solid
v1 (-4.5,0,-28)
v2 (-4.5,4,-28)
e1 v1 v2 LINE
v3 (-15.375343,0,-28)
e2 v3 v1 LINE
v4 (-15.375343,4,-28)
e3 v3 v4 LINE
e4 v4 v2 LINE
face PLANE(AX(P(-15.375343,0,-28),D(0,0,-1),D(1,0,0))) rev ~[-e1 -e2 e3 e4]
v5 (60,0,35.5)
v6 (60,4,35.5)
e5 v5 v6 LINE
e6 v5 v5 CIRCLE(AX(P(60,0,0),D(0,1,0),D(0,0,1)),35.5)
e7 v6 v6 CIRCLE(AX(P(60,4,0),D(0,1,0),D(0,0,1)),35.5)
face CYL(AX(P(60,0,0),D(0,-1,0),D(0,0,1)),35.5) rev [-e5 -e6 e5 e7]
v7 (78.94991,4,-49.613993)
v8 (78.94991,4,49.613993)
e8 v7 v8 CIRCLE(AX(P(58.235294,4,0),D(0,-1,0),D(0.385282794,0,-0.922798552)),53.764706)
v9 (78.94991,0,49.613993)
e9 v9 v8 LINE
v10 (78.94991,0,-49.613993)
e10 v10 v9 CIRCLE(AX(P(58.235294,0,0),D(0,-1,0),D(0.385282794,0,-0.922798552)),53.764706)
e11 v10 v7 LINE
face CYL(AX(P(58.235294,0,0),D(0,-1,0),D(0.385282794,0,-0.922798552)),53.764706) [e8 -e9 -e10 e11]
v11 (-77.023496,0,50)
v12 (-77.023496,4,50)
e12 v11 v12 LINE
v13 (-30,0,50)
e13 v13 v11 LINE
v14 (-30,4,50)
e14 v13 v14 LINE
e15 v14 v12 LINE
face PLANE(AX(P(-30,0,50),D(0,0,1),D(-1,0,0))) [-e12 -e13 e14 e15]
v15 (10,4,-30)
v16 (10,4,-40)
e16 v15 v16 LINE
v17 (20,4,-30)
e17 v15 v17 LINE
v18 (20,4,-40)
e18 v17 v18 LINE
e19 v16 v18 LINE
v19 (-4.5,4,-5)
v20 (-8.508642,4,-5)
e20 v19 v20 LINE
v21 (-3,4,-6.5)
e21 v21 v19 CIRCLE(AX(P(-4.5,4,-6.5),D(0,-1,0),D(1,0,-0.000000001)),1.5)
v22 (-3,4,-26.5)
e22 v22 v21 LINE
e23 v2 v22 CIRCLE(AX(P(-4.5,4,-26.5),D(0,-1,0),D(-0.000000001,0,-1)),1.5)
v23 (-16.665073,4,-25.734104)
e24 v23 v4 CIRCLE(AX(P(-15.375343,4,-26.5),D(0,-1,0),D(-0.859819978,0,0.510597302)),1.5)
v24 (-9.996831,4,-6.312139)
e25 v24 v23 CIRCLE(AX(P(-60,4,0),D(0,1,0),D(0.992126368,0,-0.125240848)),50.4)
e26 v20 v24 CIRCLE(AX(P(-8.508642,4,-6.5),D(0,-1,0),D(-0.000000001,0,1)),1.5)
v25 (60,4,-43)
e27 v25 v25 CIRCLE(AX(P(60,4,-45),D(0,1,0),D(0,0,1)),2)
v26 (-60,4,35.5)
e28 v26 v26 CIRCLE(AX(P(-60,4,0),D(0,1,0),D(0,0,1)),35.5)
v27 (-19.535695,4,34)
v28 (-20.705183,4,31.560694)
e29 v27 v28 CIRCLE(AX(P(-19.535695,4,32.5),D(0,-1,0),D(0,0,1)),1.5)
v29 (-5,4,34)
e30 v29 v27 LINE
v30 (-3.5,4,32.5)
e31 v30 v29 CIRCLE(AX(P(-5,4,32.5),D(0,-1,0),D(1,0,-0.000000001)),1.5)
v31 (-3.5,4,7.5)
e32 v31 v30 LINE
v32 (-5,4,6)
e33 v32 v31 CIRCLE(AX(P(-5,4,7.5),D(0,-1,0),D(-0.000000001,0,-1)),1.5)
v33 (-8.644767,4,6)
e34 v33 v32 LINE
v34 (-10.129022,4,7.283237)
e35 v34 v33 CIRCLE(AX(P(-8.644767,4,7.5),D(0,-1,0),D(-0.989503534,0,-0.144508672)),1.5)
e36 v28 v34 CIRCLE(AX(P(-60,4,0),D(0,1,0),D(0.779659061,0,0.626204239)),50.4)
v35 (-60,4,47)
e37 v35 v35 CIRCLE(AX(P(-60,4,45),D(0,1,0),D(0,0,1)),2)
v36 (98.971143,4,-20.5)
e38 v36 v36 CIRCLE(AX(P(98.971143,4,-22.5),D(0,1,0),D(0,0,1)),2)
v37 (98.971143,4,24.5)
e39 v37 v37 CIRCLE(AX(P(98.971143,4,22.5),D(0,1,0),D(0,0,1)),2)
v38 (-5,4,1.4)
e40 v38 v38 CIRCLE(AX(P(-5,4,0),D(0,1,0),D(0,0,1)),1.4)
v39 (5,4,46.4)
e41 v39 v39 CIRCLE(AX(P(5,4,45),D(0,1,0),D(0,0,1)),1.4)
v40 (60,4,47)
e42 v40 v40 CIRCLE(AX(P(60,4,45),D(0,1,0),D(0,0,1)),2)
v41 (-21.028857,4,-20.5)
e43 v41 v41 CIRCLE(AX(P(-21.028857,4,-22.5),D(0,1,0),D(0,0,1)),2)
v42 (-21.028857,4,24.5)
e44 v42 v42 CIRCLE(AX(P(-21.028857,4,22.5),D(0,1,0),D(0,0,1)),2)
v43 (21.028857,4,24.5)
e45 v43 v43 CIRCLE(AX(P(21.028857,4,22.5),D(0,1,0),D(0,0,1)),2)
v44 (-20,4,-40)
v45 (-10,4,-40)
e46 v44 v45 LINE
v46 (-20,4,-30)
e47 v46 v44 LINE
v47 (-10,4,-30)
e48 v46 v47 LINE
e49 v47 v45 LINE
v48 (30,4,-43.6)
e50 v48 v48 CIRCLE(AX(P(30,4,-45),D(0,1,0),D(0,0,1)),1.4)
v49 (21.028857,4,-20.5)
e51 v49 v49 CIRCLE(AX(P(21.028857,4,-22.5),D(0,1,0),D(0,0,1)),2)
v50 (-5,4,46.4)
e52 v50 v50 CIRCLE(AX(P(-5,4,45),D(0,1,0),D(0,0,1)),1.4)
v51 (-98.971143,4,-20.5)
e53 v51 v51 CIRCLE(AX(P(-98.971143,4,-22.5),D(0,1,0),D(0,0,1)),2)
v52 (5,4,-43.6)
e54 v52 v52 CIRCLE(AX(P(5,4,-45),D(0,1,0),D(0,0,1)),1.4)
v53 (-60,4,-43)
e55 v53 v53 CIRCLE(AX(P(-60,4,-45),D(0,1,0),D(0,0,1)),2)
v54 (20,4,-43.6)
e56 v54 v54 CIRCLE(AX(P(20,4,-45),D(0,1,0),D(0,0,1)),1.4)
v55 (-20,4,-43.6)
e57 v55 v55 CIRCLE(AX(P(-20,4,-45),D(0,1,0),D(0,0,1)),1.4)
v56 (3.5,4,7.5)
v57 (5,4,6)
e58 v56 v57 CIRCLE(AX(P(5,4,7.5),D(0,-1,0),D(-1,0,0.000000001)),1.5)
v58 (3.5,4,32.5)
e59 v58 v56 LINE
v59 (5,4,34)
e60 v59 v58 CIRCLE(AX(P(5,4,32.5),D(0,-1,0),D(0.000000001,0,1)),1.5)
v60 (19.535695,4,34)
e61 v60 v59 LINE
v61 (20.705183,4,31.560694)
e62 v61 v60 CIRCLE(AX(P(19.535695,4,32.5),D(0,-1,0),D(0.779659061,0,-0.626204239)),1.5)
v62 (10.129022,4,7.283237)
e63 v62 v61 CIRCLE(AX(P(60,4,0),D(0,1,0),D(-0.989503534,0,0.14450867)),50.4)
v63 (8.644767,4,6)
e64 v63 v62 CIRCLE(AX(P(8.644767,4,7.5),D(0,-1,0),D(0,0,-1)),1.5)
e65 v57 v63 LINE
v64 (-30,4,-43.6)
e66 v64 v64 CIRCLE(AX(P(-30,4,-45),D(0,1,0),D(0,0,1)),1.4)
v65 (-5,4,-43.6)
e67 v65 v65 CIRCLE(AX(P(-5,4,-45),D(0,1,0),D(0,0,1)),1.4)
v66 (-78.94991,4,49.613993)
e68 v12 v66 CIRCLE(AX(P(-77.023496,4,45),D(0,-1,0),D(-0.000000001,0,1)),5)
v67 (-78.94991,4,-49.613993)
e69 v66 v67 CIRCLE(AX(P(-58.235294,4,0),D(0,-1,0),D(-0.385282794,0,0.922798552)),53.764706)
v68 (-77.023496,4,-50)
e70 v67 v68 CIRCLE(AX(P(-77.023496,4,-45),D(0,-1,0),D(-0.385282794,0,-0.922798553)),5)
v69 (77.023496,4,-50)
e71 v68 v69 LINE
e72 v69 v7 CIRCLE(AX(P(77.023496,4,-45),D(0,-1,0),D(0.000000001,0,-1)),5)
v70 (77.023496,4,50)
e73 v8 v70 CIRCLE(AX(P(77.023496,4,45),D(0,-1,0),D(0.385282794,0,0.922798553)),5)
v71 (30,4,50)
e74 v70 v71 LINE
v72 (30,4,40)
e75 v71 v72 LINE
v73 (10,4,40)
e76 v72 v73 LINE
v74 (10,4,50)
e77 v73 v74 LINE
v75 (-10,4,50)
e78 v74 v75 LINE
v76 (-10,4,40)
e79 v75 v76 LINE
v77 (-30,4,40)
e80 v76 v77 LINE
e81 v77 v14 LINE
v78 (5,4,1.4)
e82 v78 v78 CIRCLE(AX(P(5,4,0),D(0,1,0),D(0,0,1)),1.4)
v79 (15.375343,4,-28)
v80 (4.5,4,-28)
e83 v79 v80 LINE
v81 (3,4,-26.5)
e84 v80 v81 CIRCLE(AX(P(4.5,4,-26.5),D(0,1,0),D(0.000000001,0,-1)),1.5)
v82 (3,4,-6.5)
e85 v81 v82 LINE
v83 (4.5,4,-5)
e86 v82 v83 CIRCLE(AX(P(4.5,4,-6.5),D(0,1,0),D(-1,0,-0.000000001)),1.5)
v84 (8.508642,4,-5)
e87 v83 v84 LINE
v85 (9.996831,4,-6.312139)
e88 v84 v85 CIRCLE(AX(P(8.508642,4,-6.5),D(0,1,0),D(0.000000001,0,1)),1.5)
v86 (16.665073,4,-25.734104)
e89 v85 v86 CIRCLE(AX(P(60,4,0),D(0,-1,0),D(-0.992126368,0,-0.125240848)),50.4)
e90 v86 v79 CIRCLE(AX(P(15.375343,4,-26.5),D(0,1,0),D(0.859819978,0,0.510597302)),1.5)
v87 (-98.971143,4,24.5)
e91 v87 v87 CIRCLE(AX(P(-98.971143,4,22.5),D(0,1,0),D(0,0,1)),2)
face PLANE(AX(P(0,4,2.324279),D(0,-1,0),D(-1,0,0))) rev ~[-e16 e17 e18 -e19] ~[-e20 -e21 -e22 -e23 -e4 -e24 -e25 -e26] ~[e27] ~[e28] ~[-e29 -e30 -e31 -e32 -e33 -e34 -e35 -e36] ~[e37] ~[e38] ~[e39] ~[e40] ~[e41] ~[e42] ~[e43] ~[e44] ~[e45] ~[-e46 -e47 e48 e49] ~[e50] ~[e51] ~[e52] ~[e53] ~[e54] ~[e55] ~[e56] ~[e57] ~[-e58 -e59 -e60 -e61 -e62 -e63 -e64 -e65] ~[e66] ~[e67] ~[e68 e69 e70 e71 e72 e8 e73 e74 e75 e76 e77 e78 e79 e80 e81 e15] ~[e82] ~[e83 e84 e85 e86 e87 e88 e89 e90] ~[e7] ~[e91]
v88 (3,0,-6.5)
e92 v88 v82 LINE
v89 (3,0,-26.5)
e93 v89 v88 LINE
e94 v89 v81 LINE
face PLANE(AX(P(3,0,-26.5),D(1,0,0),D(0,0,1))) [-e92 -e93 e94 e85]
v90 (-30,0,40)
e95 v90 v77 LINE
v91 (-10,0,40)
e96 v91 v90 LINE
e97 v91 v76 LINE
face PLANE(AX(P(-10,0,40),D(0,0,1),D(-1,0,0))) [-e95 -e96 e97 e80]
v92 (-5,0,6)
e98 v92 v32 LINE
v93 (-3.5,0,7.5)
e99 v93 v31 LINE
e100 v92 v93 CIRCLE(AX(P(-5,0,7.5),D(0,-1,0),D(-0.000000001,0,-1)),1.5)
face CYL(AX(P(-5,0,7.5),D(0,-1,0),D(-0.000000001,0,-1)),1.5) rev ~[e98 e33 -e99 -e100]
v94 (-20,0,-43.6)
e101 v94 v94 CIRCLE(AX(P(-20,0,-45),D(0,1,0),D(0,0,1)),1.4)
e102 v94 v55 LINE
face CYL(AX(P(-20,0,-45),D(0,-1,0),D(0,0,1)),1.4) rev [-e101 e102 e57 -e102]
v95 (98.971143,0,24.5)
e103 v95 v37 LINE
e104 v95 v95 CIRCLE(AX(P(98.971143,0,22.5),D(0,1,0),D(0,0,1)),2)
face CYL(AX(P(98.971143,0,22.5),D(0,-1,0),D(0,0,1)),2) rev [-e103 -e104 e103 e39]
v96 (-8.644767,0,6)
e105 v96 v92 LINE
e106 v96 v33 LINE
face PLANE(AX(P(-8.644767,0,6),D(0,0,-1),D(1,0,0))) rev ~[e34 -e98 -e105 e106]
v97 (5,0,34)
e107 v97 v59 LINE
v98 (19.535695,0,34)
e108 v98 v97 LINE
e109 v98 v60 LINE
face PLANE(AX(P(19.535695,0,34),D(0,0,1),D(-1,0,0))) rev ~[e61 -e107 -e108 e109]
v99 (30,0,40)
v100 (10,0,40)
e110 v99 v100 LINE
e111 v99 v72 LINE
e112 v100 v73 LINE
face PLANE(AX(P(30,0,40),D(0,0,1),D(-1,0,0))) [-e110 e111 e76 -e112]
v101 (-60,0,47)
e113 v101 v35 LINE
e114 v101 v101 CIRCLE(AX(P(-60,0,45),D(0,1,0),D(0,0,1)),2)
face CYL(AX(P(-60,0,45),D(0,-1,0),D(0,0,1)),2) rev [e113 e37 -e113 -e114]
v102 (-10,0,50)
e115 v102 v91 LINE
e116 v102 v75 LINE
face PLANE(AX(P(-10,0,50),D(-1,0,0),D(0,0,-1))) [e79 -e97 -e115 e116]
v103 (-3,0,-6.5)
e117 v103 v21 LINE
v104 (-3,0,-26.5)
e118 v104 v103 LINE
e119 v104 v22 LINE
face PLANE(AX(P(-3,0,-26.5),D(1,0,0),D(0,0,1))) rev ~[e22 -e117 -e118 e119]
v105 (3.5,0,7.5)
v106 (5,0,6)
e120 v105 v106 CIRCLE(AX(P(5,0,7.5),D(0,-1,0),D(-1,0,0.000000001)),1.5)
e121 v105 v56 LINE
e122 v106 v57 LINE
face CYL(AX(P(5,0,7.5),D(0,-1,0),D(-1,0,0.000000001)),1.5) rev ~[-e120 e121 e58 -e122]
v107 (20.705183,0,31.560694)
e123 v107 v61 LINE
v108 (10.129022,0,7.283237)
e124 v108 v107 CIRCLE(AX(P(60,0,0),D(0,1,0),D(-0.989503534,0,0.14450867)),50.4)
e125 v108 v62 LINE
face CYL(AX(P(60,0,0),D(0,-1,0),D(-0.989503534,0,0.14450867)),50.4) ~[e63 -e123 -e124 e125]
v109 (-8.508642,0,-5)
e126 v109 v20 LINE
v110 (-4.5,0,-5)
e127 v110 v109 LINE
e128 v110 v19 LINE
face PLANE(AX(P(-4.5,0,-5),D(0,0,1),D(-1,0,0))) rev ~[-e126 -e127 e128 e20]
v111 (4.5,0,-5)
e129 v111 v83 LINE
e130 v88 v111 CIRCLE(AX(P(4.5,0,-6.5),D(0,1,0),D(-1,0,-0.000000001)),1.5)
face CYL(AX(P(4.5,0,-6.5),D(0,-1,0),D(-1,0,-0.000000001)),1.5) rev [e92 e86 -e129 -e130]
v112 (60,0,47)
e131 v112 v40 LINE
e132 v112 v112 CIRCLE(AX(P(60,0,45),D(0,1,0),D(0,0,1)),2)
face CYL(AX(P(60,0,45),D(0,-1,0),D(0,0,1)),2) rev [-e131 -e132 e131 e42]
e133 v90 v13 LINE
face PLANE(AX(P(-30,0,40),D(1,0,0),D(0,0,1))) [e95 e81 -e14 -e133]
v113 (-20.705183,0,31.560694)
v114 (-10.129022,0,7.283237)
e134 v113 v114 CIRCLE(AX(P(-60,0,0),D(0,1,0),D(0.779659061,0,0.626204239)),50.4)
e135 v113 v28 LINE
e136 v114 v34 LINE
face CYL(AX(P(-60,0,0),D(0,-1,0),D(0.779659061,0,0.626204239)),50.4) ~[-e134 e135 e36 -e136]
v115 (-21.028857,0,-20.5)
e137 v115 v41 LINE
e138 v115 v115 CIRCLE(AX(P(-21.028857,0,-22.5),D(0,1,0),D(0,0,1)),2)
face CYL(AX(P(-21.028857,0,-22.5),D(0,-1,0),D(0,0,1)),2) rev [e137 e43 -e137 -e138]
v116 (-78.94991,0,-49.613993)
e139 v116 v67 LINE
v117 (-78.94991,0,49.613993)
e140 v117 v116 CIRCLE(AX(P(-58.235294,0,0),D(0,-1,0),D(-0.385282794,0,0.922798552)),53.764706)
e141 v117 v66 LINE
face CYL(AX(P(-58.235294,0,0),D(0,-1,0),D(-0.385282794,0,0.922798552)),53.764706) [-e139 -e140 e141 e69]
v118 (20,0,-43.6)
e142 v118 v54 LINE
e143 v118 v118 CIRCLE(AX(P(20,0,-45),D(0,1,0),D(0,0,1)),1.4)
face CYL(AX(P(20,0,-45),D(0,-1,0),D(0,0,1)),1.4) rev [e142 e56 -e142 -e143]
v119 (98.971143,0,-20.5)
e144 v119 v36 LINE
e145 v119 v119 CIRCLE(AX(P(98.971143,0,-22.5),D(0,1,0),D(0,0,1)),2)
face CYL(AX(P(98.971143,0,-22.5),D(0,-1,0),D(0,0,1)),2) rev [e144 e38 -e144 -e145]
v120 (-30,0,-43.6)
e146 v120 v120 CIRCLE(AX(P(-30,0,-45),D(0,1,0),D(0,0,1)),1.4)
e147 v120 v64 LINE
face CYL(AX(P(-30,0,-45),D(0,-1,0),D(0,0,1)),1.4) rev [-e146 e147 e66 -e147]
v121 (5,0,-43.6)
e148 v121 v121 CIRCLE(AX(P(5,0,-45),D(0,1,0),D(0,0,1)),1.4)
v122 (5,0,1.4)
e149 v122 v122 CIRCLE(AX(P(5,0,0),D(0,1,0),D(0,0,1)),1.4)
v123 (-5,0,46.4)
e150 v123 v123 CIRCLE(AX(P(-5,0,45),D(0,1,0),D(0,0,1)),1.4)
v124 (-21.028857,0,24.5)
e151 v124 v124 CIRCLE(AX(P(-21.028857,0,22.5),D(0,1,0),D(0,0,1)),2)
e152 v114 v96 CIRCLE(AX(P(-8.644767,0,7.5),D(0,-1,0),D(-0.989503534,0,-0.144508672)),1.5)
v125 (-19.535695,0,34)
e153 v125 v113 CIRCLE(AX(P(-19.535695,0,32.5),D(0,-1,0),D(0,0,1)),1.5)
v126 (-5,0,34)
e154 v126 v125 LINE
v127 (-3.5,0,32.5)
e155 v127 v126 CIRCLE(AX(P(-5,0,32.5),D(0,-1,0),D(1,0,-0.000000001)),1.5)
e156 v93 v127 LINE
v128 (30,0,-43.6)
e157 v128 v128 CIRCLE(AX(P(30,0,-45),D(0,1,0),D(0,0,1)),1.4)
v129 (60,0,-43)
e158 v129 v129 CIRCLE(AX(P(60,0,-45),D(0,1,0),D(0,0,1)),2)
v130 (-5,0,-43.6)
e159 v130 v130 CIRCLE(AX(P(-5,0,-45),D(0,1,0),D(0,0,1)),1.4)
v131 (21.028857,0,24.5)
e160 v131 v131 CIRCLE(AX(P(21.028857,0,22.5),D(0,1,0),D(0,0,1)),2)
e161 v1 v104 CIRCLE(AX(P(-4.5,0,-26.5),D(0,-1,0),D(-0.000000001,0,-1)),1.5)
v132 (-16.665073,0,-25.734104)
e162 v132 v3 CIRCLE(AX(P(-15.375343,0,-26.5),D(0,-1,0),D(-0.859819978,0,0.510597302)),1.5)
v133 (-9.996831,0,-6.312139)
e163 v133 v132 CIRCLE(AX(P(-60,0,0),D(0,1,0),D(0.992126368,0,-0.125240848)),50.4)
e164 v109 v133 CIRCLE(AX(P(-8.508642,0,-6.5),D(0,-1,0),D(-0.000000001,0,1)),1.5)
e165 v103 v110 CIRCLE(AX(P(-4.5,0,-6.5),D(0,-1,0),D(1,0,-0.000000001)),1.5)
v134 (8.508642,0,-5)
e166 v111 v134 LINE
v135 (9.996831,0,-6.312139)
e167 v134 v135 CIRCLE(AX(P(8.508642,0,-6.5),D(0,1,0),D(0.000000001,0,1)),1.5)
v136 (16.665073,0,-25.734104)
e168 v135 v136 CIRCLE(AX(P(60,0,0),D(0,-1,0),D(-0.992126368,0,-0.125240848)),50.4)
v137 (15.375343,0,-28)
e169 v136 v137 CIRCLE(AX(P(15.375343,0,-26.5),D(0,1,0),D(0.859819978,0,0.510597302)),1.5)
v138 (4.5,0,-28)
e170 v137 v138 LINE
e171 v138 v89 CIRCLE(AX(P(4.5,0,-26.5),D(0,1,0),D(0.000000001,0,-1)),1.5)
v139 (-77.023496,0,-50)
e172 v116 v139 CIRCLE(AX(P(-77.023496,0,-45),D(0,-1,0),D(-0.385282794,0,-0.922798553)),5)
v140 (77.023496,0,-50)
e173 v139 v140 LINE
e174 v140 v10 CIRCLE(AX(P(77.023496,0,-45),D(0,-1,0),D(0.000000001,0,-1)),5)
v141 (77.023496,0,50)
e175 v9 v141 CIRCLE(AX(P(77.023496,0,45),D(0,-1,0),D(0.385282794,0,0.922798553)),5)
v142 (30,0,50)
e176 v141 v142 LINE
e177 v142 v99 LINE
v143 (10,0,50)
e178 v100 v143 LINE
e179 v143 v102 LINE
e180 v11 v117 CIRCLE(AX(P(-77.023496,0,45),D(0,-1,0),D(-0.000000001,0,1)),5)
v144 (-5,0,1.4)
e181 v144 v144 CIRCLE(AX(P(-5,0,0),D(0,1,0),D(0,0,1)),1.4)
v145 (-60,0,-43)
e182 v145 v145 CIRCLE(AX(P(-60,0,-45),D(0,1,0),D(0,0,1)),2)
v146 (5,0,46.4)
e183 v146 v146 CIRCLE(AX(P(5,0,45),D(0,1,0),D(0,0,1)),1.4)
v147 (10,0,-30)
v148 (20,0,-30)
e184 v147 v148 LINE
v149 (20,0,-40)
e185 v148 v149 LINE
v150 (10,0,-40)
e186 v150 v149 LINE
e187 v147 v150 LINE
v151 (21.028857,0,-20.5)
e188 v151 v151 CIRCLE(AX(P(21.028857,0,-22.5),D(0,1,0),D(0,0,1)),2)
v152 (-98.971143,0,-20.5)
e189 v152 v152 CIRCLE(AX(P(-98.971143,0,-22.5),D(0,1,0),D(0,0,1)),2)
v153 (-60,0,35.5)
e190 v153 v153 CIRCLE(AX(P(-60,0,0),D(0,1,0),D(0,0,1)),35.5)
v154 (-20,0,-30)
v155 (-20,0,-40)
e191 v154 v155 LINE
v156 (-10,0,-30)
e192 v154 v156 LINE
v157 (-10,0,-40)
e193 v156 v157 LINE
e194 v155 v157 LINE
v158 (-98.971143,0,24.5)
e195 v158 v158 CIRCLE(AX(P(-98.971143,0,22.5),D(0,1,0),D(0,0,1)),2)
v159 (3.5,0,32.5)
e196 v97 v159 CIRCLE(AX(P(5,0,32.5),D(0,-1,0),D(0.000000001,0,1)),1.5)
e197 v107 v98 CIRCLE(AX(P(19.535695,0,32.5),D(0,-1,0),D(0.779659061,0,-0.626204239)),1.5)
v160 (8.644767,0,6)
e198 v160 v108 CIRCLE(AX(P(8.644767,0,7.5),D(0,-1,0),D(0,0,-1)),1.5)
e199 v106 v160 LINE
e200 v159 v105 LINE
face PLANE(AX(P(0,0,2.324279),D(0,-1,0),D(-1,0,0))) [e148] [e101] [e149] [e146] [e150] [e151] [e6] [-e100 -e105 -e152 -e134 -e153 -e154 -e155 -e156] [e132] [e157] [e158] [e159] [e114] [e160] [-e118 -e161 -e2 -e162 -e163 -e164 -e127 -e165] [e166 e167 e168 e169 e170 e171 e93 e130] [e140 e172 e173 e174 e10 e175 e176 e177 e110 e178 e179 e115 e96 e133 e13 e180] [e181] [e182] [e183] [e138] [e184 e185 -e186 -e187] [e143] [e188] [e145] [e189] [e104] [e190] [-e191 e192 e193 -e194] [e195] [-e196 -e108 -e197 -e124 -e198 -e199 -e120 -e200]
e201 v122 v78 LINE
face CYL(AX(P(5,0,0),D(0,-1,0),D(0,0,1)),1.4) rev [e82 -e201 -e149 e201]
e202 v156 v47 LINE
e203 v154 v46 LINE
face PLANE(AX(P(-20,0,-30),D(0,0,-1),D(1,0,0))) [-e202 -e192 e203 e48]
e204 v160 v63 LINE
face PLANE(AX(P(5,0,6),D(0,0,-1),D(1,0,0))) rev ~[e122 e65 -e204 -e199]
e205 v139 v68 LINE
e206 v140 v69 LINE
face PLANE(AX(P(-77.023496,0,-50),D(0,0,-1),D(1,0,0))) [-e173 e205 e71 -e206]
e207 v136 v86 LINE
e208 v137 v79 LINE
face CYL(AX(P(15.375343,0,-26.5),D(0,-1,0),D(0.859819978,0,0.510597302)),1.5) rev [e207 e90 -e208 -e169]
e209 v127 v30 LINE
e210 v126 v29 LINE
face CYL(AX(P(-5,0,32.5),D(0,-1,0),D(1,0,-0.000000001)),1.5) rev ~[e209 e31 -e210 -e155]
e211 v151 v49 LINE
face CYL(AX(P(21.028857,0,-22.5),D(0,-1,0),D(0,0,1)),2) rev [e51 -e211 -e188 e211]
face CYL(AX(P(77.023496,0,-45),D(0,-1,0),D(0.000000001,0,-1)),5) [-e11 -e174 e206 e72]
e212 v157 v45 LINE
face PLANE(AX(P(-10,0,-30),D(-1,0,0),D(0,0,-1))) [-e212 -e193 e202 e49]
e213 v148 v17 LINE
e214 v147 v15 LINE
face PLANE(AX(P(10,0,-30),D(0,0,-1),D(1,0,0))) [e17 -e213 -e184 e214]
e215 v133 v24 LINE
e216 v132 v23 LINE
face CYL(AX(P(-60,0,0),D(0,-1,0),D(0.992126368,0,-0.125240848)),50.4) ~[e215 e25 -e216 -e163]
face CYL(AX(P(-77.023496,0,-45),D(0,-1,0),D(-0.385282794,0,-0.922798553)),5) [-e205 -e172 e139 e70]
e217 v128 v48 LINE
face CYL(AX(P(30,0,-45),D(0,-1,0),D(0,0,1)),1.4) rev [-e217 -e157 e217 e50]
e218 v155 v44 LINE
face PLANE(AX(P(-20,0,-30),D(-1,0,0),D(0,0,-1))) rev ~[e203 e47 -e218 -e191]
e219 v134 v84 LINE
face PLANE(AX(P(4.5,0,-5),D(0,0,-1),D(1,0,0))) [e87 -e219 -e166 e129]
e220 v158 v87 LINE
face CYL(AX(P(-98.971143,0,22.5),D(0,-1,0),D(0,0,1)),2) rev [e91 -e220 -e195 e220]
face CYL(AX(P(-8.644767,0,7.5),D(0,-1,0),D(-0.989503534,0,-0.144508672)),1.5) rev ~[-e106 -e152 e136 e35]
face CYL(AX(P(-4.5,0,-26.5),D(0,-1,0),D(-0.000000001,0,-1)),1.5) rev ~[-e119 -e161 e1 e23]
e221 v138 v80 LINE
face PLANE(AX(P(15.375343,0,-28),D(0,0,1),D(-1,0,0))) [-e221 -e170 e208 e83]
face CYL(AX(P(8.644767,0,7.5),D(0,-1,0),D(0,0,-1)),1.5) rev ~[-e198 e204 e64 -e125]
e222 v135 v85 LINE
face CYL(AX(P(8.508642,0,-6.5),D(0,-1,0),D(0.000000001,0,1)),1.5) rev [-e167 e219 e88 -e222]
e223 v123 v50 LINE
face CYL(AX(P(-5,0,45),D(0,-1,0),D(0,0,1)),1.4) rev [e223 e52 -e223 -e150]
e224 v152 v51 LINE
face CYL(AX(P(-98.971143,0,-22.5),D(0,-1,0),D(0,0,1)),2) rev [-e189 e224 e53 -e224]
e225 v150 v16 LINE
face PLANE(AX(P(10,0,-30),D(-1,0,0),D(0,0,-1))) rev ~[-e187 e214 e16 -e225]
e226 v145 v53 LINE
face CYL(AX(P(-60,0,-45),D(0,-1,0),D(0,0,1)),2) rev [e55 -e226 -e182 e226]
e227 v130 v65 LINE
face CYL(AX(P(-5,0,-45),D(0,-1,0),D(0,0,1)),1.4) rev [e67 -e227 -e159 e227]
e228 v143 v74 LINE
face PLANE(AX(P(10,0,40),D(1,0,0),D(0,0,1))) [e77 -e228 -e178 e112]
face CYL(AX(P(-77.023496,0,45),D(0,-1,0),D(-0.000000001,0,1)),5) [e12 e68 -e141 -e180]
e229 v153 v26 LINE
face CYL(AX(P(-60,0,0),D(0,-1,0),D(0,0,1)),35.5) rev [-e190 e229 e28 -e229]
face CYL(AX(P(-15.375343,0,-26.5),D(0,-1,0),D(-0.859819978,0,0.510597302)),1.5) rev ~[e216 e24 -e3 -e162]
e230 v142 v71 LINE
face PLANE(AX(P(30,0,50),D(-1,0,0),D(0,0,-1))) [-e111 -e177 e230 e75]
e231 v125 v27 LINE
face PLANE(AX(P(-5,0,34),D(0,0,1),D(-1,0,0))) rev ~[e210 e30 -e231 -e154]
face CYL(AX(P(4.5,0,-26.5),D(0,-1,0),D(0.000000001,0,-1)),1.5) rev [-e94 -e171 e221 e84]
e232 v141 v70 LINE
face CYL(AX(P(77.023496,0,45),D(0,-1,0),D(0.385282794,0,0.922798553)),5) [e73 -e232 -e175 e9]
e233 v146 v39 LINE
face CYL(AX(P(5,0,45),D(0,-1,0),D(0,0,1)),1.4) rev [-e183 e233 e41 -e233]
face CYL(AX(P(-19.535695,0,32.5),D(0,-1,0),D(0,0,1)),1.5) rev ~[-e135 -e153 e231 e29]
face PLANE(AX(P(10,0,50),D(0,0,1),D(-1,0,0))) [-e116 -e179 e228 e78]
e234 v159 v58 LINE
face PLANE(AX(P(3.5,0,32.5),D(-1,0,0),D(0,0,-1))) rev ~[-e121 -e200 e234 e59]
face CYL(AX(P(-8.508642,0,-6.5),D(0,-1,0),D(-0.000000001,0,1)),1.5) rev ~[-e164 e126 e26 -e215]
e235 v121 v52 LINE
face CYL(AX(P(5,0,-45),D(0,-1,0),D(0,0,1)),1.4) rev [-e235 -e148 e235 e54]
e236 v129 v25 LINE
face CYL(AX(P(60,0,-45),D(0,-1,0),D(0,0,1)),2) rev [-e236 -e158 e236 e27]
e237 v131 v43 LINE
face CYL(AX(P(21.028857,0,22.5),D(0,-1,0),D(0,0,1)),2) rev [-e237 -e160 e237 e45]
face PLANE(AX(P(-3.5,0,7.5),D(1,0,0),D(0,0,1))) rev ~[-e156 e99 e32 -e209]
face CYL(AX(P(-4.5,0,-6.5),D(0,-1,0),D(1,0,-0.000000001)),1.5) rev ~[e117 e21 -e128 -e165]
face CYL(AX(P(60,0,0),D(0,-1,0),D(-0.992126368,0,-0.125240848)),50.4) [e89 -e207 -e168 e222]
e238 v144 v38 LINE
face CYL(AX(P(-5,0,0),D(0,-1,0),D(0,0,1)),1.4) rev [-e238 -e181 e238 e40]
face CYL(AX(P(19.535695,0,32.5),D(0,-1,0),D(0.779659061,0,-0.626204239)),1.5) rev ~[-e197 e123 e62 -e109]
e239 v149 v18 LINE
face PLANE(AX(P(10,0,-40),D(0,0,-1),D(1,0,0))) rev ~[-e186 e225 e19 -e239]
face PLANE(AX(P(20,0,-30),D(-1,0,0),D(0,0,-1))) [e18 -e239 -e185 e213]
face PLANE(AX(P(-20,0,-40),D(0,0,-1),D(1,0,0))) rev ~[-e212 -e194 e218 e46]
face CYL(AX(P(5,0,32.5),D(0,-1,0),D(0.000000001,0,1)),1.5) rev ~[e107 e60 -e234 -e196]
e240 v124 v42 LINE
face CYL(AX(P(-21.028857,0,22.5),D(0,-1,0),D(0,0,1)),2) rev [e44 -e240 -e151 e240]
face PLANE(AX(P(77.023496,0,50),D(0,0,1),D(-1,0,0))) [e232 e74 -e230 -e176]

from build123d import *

# Parameters (mm, degrees)
SKETCH_1_R      = 35.5
SKETCH_1_R_2    = 2
SKETCH_1_R_3    = 1.4
SKETCH_1_W      = 10
SKETCH_1_H      = 10
EXTRUDE_1_DEPTH = 4


with BuildPart() as part:
    # 草图1 → 凸台-拉伸1 (new body)
    with BuildSketch(Plane(origin=(0, 0, 0), x_dir=(1, 0, 0), z_dir=(0, 1, 0))):
        with BuildLine():
            Line((-77.023496261, 50), (77.023496261, 50))
            ThreePointArc((77.023496261, 50), (78.005849606, 49.902548511), (78.949910233, 49.613992762))
            ThreePointArc((78.949910233, 49.613992762), (112, 0), (78.949910233, -49.613992762))
            ThreePointArc((78.949910233, -49.613992762), (78.005849606, -49.902548511), (77.023496261, -50))
            Line((77.023496261, -50), (30, -50))
            Line((30, -50), (30, -40))
            Line((30, -40), (10, -40))
            Line((10, -40), (10, -50))
            Line((10, -50), (-10, -50))
            Line((-10, -50), (-10, -40))
            Line((-10, -40), (-30, -40))
            Line((-30, -40), (-30, -50))
            Line((-30, -50), (-77.023496261, -50))
            ThreePointArc((-77.023496261, -50), (-78.005849606, -49.902548511), (-78.949910233, -49.613992762))
            ThreePointArc((-78.949910233, -49.613992762), (-112, 0), (-78.949910233, 49.613992762))
            ThreePointArc((-78.949910233, 49.613992762), (-78.005849606, 49.902548511), (-77.023496261, 50))
        make_face()
        with Locations(Location((60, 0, 0), (0, 0, 270))):
            Circle(SKETCH_1_R, mode=Mode.SUBTRACT)
        with Locations(Location((60, 45, 0), (0, 0, 270))):
            Circle(SKETCH_1_R_2, mode=Mode.SUBTRACT)
        with Locations(Location((21.02885683, 22.5, 0), (0, 0, 270))):
            Circle(SKETCH_1_R_2, mode=Mode.SUBTRACT)
        with Locations(Location((21.02885683, -22.5, 0), (0, 0, 270))):
            Circle(SKETCH_1_R_2, mode=Mode.SUBTRACT)
        with Locations(Location((60, -45, 0), (0, 0, 270))):
            Circle(SKETCH_1_R_2, mode=Mode.SUBTRACT)
        with Locations(Location((98.97114317, -22.5, 0), (0, 0, 270))):
            Circle(SKETCH_1_R_2, mode=Mode.SUBTRACT)
        with Locations(Location((98.97114317, 22.5, 0), (0, 0, 270))):
            Circle(SKETCH_1_R_2, mode=Mode.SUBTRACT)
        with Locations(Location((-60, 0, 0), (0, 0, 270))):
            Circle(SKETCH_1_R, mode=Mode.SUBTRACT)
        with Locations(Location((-98.97114317, -22.5, 0), (0, 0, 270))):
            Circle(SKETCH_1_R_2, mode=Mode.SUBTRACT)
        with Locations(Location((-98.97114317, 22.5, 0), (0, 0, 270))):
            Circle(SKETCH_1_R_2, mode=Mode.SUBTRACT)
        with Locations(Location((-60, 45, 0), (0, 0, 270))):
            Circle(SKETCH_1_R_2, mode=Mode.SUBTRACT)
        with Locations(Location((-21.02885683, 22.5, 0), (0, 0, 270))):
            Circle(SKETCH_1_R_2, mode=Mode.SUBTRACT)
        with Locations(Location((-21.02885683, -22.5, 0), (0, 0, 270))):
            Circle(SKETCH_1_R_2, mode=Mode.SUBTRACT)
        with Locations(Location((-60, -45, 0), (0, 0, 270))):
            Circle(SKETCH_1_R_2, mode=Mode.SUBTRACT)
        with Locations(Location((-5, 45, 0), (0, 0, 270))):
            Circle(SKETCH_1_R_3, mode=Mode.SUBTRACT)
        with Locations(Location((5, 45, 0), (0, 0, 270))):
            Circle(SKETCH_1_R_3, mode=Mode.SUBTRACT)
        with Locations(Location((5, -45, 0), (0, 0, 270))):
            Circle(SKETCH_1_R_3, mode=Mode.SUBTRACT)
        with Locations(Location((-5, -45, 0), (0, 0, 270))):
            Circle(SKETCH_1_R_3, mode=Mode.SUBTRACT)
        with Locations(Location((-5, 0, 0), (0, 0, 270))):
            Circle(SKETCH_1_R_3, mode=Mode.SUBTRACT)
        with Locations(Location((5, 0, 0), (0, 0, 270))):
            Circle(SKETCH_1_R_3, mode=Mode.SUBTRACT)
        with Locations(Location((20, 45, 0), (0, 0, 270))):
            Circle(SKETCH_1_R_3, mode=Mode.SUBTRACT)
        with Locations(Location((30, 45, 0), (0, 0, 270))):
            Circle(SKETCH_1_R_3, mode=Mode.SUBTRACT)
        with Locations(Location((-30, 45, 0), (0, 0, 270))):
            Circle(SKETCH_1_R_3, mode=Mode.SUBTRACT)
        with Locations(Location((-20, 45, 0), (0, 0, 270))):
            Circle(SKETCH_1_R_3, mode=Mode.SUBTRACT)
        with Locations((-15, 35)):
            Rectangle(SKETCH_1_W, SKETCH_1_H, mode=Mode.SUBTRACT)
        with Locations((15, 35)):
            Rectangle(SKETCH_1_W, SKETCH_1_H, mode=Mode.SUBTRACT)
        with BuildLine():
            Line((-15.375343139, 28), (-4.5, 28))
            ThreePointArc((-4.5, 28), (-3.439339828, 27.560660172), (-3, 26.5))
            Line((-3, 26.5), (-3, 6.5))
            ThreePointArc((-3, 6.5), (-3.439339828, 5.439339828), (-4.5, 5))
            Line((-4.5, 5), (-8.508641502, 5))
            ThreePointArc((-8.508641502, 5), (-9.500661686, 5.374879583), (-9.996831054, 6.312138728))
            ThreePointArc((-9.996831054, 6.312138728), (-12.331318269, 16.366330744), (-16.665073106, 25.734104046))
            ThreePointArc((-16.665073106, 25.734104046), (-16.678961935, 27.242009457), (-15.375343139, 28))
        make_face(mode=Mode.SUBTRACT)
        with BuildLine():
            Line((15.375343139, 28), (4.5, 28))
            ThreePointArc((4.5, 28), (3.439339828, 27.560660172), (3, 26.5))
            Line((3, 26.5), (3, 6.5))
            ThreePointArc((3, 6.5), (3.439339828, 5.439339828), (4.5, 5))
            Line((4.5, 5), (8.508641502, 5))
            ThreePointArc((8.508641502, 5), (9.500661686, 5.374879583), (9.996831054, 6.312138728))
            ThreePointArc((9.996831054, 6.312138728), (12.331318269, 16.366330744), (16.665073106, 25.734104046))
            ThreePointArc((16.665073106, 25.734104046), (16.678961935, 27.242009457), (15.375343139, 28))
        make_face(mode=Mode.SUBTRACT)
        with BuildLine():
            Line((-3.5, -7.5), (-3.5, -32.5))
            ThreePointArc((-3.5, -32.5), (-3.939339828, -33.560660172), (-5, -34))
            Line((-5, -34), (-19.535694742, -34))
            ThreePointArc((-19.535694742, -34), (-20.888277371, -33.148475313), (-20.705183333, -31.560693642))
            ThreePointArc((-20.705183333, -31.560693642), (-13.794118714, -20.128997357), (-10.129021878, -7.283236994))
            ThreePointArc((-10.129021878, -7.283236994), (-9.625800595, -6.36528759), (-8.644766576, -6))
            Line((-8.644766576, -6), (-5, -6))
            ThreePointArc((-5, -6), (-3.939339828, -6.439339828), (-3.5, -7.5))
        make_face(mode=Mode.SUBTRACT)
        with BuildLine():
            Line((5, -6), (8.644766576, -6))
            ThreePointArc((8.644766576, -6), (9.625800595, -6.36528759), (10.129021878, -7.283236994))
            ThreePointArc((10.129021878, -7.283236994), (13.794118714, -20.128997357), (20.705183333, -31.560693642))
            ThreePointArc((20.705183333, -31.560693642), (20.888277371, -33.148475313), (19.535694742, -34))
            Line((19.535694742, -34), (5, -34))
            ThreePointArc((5, -34), (3.939339828, -33.560660172), (3.5, -32.5))
            Line((3.5, -32.5), (3.5, -7.5))
            ThreePointArc((3.5, -7.5), (3.939339828, -6.439339828), (5, -6))
        make_face(mode=Mode.SUBTRACT)
    extrude(amount=EXTRUDE_1_DEPTH)


solid = part.part
